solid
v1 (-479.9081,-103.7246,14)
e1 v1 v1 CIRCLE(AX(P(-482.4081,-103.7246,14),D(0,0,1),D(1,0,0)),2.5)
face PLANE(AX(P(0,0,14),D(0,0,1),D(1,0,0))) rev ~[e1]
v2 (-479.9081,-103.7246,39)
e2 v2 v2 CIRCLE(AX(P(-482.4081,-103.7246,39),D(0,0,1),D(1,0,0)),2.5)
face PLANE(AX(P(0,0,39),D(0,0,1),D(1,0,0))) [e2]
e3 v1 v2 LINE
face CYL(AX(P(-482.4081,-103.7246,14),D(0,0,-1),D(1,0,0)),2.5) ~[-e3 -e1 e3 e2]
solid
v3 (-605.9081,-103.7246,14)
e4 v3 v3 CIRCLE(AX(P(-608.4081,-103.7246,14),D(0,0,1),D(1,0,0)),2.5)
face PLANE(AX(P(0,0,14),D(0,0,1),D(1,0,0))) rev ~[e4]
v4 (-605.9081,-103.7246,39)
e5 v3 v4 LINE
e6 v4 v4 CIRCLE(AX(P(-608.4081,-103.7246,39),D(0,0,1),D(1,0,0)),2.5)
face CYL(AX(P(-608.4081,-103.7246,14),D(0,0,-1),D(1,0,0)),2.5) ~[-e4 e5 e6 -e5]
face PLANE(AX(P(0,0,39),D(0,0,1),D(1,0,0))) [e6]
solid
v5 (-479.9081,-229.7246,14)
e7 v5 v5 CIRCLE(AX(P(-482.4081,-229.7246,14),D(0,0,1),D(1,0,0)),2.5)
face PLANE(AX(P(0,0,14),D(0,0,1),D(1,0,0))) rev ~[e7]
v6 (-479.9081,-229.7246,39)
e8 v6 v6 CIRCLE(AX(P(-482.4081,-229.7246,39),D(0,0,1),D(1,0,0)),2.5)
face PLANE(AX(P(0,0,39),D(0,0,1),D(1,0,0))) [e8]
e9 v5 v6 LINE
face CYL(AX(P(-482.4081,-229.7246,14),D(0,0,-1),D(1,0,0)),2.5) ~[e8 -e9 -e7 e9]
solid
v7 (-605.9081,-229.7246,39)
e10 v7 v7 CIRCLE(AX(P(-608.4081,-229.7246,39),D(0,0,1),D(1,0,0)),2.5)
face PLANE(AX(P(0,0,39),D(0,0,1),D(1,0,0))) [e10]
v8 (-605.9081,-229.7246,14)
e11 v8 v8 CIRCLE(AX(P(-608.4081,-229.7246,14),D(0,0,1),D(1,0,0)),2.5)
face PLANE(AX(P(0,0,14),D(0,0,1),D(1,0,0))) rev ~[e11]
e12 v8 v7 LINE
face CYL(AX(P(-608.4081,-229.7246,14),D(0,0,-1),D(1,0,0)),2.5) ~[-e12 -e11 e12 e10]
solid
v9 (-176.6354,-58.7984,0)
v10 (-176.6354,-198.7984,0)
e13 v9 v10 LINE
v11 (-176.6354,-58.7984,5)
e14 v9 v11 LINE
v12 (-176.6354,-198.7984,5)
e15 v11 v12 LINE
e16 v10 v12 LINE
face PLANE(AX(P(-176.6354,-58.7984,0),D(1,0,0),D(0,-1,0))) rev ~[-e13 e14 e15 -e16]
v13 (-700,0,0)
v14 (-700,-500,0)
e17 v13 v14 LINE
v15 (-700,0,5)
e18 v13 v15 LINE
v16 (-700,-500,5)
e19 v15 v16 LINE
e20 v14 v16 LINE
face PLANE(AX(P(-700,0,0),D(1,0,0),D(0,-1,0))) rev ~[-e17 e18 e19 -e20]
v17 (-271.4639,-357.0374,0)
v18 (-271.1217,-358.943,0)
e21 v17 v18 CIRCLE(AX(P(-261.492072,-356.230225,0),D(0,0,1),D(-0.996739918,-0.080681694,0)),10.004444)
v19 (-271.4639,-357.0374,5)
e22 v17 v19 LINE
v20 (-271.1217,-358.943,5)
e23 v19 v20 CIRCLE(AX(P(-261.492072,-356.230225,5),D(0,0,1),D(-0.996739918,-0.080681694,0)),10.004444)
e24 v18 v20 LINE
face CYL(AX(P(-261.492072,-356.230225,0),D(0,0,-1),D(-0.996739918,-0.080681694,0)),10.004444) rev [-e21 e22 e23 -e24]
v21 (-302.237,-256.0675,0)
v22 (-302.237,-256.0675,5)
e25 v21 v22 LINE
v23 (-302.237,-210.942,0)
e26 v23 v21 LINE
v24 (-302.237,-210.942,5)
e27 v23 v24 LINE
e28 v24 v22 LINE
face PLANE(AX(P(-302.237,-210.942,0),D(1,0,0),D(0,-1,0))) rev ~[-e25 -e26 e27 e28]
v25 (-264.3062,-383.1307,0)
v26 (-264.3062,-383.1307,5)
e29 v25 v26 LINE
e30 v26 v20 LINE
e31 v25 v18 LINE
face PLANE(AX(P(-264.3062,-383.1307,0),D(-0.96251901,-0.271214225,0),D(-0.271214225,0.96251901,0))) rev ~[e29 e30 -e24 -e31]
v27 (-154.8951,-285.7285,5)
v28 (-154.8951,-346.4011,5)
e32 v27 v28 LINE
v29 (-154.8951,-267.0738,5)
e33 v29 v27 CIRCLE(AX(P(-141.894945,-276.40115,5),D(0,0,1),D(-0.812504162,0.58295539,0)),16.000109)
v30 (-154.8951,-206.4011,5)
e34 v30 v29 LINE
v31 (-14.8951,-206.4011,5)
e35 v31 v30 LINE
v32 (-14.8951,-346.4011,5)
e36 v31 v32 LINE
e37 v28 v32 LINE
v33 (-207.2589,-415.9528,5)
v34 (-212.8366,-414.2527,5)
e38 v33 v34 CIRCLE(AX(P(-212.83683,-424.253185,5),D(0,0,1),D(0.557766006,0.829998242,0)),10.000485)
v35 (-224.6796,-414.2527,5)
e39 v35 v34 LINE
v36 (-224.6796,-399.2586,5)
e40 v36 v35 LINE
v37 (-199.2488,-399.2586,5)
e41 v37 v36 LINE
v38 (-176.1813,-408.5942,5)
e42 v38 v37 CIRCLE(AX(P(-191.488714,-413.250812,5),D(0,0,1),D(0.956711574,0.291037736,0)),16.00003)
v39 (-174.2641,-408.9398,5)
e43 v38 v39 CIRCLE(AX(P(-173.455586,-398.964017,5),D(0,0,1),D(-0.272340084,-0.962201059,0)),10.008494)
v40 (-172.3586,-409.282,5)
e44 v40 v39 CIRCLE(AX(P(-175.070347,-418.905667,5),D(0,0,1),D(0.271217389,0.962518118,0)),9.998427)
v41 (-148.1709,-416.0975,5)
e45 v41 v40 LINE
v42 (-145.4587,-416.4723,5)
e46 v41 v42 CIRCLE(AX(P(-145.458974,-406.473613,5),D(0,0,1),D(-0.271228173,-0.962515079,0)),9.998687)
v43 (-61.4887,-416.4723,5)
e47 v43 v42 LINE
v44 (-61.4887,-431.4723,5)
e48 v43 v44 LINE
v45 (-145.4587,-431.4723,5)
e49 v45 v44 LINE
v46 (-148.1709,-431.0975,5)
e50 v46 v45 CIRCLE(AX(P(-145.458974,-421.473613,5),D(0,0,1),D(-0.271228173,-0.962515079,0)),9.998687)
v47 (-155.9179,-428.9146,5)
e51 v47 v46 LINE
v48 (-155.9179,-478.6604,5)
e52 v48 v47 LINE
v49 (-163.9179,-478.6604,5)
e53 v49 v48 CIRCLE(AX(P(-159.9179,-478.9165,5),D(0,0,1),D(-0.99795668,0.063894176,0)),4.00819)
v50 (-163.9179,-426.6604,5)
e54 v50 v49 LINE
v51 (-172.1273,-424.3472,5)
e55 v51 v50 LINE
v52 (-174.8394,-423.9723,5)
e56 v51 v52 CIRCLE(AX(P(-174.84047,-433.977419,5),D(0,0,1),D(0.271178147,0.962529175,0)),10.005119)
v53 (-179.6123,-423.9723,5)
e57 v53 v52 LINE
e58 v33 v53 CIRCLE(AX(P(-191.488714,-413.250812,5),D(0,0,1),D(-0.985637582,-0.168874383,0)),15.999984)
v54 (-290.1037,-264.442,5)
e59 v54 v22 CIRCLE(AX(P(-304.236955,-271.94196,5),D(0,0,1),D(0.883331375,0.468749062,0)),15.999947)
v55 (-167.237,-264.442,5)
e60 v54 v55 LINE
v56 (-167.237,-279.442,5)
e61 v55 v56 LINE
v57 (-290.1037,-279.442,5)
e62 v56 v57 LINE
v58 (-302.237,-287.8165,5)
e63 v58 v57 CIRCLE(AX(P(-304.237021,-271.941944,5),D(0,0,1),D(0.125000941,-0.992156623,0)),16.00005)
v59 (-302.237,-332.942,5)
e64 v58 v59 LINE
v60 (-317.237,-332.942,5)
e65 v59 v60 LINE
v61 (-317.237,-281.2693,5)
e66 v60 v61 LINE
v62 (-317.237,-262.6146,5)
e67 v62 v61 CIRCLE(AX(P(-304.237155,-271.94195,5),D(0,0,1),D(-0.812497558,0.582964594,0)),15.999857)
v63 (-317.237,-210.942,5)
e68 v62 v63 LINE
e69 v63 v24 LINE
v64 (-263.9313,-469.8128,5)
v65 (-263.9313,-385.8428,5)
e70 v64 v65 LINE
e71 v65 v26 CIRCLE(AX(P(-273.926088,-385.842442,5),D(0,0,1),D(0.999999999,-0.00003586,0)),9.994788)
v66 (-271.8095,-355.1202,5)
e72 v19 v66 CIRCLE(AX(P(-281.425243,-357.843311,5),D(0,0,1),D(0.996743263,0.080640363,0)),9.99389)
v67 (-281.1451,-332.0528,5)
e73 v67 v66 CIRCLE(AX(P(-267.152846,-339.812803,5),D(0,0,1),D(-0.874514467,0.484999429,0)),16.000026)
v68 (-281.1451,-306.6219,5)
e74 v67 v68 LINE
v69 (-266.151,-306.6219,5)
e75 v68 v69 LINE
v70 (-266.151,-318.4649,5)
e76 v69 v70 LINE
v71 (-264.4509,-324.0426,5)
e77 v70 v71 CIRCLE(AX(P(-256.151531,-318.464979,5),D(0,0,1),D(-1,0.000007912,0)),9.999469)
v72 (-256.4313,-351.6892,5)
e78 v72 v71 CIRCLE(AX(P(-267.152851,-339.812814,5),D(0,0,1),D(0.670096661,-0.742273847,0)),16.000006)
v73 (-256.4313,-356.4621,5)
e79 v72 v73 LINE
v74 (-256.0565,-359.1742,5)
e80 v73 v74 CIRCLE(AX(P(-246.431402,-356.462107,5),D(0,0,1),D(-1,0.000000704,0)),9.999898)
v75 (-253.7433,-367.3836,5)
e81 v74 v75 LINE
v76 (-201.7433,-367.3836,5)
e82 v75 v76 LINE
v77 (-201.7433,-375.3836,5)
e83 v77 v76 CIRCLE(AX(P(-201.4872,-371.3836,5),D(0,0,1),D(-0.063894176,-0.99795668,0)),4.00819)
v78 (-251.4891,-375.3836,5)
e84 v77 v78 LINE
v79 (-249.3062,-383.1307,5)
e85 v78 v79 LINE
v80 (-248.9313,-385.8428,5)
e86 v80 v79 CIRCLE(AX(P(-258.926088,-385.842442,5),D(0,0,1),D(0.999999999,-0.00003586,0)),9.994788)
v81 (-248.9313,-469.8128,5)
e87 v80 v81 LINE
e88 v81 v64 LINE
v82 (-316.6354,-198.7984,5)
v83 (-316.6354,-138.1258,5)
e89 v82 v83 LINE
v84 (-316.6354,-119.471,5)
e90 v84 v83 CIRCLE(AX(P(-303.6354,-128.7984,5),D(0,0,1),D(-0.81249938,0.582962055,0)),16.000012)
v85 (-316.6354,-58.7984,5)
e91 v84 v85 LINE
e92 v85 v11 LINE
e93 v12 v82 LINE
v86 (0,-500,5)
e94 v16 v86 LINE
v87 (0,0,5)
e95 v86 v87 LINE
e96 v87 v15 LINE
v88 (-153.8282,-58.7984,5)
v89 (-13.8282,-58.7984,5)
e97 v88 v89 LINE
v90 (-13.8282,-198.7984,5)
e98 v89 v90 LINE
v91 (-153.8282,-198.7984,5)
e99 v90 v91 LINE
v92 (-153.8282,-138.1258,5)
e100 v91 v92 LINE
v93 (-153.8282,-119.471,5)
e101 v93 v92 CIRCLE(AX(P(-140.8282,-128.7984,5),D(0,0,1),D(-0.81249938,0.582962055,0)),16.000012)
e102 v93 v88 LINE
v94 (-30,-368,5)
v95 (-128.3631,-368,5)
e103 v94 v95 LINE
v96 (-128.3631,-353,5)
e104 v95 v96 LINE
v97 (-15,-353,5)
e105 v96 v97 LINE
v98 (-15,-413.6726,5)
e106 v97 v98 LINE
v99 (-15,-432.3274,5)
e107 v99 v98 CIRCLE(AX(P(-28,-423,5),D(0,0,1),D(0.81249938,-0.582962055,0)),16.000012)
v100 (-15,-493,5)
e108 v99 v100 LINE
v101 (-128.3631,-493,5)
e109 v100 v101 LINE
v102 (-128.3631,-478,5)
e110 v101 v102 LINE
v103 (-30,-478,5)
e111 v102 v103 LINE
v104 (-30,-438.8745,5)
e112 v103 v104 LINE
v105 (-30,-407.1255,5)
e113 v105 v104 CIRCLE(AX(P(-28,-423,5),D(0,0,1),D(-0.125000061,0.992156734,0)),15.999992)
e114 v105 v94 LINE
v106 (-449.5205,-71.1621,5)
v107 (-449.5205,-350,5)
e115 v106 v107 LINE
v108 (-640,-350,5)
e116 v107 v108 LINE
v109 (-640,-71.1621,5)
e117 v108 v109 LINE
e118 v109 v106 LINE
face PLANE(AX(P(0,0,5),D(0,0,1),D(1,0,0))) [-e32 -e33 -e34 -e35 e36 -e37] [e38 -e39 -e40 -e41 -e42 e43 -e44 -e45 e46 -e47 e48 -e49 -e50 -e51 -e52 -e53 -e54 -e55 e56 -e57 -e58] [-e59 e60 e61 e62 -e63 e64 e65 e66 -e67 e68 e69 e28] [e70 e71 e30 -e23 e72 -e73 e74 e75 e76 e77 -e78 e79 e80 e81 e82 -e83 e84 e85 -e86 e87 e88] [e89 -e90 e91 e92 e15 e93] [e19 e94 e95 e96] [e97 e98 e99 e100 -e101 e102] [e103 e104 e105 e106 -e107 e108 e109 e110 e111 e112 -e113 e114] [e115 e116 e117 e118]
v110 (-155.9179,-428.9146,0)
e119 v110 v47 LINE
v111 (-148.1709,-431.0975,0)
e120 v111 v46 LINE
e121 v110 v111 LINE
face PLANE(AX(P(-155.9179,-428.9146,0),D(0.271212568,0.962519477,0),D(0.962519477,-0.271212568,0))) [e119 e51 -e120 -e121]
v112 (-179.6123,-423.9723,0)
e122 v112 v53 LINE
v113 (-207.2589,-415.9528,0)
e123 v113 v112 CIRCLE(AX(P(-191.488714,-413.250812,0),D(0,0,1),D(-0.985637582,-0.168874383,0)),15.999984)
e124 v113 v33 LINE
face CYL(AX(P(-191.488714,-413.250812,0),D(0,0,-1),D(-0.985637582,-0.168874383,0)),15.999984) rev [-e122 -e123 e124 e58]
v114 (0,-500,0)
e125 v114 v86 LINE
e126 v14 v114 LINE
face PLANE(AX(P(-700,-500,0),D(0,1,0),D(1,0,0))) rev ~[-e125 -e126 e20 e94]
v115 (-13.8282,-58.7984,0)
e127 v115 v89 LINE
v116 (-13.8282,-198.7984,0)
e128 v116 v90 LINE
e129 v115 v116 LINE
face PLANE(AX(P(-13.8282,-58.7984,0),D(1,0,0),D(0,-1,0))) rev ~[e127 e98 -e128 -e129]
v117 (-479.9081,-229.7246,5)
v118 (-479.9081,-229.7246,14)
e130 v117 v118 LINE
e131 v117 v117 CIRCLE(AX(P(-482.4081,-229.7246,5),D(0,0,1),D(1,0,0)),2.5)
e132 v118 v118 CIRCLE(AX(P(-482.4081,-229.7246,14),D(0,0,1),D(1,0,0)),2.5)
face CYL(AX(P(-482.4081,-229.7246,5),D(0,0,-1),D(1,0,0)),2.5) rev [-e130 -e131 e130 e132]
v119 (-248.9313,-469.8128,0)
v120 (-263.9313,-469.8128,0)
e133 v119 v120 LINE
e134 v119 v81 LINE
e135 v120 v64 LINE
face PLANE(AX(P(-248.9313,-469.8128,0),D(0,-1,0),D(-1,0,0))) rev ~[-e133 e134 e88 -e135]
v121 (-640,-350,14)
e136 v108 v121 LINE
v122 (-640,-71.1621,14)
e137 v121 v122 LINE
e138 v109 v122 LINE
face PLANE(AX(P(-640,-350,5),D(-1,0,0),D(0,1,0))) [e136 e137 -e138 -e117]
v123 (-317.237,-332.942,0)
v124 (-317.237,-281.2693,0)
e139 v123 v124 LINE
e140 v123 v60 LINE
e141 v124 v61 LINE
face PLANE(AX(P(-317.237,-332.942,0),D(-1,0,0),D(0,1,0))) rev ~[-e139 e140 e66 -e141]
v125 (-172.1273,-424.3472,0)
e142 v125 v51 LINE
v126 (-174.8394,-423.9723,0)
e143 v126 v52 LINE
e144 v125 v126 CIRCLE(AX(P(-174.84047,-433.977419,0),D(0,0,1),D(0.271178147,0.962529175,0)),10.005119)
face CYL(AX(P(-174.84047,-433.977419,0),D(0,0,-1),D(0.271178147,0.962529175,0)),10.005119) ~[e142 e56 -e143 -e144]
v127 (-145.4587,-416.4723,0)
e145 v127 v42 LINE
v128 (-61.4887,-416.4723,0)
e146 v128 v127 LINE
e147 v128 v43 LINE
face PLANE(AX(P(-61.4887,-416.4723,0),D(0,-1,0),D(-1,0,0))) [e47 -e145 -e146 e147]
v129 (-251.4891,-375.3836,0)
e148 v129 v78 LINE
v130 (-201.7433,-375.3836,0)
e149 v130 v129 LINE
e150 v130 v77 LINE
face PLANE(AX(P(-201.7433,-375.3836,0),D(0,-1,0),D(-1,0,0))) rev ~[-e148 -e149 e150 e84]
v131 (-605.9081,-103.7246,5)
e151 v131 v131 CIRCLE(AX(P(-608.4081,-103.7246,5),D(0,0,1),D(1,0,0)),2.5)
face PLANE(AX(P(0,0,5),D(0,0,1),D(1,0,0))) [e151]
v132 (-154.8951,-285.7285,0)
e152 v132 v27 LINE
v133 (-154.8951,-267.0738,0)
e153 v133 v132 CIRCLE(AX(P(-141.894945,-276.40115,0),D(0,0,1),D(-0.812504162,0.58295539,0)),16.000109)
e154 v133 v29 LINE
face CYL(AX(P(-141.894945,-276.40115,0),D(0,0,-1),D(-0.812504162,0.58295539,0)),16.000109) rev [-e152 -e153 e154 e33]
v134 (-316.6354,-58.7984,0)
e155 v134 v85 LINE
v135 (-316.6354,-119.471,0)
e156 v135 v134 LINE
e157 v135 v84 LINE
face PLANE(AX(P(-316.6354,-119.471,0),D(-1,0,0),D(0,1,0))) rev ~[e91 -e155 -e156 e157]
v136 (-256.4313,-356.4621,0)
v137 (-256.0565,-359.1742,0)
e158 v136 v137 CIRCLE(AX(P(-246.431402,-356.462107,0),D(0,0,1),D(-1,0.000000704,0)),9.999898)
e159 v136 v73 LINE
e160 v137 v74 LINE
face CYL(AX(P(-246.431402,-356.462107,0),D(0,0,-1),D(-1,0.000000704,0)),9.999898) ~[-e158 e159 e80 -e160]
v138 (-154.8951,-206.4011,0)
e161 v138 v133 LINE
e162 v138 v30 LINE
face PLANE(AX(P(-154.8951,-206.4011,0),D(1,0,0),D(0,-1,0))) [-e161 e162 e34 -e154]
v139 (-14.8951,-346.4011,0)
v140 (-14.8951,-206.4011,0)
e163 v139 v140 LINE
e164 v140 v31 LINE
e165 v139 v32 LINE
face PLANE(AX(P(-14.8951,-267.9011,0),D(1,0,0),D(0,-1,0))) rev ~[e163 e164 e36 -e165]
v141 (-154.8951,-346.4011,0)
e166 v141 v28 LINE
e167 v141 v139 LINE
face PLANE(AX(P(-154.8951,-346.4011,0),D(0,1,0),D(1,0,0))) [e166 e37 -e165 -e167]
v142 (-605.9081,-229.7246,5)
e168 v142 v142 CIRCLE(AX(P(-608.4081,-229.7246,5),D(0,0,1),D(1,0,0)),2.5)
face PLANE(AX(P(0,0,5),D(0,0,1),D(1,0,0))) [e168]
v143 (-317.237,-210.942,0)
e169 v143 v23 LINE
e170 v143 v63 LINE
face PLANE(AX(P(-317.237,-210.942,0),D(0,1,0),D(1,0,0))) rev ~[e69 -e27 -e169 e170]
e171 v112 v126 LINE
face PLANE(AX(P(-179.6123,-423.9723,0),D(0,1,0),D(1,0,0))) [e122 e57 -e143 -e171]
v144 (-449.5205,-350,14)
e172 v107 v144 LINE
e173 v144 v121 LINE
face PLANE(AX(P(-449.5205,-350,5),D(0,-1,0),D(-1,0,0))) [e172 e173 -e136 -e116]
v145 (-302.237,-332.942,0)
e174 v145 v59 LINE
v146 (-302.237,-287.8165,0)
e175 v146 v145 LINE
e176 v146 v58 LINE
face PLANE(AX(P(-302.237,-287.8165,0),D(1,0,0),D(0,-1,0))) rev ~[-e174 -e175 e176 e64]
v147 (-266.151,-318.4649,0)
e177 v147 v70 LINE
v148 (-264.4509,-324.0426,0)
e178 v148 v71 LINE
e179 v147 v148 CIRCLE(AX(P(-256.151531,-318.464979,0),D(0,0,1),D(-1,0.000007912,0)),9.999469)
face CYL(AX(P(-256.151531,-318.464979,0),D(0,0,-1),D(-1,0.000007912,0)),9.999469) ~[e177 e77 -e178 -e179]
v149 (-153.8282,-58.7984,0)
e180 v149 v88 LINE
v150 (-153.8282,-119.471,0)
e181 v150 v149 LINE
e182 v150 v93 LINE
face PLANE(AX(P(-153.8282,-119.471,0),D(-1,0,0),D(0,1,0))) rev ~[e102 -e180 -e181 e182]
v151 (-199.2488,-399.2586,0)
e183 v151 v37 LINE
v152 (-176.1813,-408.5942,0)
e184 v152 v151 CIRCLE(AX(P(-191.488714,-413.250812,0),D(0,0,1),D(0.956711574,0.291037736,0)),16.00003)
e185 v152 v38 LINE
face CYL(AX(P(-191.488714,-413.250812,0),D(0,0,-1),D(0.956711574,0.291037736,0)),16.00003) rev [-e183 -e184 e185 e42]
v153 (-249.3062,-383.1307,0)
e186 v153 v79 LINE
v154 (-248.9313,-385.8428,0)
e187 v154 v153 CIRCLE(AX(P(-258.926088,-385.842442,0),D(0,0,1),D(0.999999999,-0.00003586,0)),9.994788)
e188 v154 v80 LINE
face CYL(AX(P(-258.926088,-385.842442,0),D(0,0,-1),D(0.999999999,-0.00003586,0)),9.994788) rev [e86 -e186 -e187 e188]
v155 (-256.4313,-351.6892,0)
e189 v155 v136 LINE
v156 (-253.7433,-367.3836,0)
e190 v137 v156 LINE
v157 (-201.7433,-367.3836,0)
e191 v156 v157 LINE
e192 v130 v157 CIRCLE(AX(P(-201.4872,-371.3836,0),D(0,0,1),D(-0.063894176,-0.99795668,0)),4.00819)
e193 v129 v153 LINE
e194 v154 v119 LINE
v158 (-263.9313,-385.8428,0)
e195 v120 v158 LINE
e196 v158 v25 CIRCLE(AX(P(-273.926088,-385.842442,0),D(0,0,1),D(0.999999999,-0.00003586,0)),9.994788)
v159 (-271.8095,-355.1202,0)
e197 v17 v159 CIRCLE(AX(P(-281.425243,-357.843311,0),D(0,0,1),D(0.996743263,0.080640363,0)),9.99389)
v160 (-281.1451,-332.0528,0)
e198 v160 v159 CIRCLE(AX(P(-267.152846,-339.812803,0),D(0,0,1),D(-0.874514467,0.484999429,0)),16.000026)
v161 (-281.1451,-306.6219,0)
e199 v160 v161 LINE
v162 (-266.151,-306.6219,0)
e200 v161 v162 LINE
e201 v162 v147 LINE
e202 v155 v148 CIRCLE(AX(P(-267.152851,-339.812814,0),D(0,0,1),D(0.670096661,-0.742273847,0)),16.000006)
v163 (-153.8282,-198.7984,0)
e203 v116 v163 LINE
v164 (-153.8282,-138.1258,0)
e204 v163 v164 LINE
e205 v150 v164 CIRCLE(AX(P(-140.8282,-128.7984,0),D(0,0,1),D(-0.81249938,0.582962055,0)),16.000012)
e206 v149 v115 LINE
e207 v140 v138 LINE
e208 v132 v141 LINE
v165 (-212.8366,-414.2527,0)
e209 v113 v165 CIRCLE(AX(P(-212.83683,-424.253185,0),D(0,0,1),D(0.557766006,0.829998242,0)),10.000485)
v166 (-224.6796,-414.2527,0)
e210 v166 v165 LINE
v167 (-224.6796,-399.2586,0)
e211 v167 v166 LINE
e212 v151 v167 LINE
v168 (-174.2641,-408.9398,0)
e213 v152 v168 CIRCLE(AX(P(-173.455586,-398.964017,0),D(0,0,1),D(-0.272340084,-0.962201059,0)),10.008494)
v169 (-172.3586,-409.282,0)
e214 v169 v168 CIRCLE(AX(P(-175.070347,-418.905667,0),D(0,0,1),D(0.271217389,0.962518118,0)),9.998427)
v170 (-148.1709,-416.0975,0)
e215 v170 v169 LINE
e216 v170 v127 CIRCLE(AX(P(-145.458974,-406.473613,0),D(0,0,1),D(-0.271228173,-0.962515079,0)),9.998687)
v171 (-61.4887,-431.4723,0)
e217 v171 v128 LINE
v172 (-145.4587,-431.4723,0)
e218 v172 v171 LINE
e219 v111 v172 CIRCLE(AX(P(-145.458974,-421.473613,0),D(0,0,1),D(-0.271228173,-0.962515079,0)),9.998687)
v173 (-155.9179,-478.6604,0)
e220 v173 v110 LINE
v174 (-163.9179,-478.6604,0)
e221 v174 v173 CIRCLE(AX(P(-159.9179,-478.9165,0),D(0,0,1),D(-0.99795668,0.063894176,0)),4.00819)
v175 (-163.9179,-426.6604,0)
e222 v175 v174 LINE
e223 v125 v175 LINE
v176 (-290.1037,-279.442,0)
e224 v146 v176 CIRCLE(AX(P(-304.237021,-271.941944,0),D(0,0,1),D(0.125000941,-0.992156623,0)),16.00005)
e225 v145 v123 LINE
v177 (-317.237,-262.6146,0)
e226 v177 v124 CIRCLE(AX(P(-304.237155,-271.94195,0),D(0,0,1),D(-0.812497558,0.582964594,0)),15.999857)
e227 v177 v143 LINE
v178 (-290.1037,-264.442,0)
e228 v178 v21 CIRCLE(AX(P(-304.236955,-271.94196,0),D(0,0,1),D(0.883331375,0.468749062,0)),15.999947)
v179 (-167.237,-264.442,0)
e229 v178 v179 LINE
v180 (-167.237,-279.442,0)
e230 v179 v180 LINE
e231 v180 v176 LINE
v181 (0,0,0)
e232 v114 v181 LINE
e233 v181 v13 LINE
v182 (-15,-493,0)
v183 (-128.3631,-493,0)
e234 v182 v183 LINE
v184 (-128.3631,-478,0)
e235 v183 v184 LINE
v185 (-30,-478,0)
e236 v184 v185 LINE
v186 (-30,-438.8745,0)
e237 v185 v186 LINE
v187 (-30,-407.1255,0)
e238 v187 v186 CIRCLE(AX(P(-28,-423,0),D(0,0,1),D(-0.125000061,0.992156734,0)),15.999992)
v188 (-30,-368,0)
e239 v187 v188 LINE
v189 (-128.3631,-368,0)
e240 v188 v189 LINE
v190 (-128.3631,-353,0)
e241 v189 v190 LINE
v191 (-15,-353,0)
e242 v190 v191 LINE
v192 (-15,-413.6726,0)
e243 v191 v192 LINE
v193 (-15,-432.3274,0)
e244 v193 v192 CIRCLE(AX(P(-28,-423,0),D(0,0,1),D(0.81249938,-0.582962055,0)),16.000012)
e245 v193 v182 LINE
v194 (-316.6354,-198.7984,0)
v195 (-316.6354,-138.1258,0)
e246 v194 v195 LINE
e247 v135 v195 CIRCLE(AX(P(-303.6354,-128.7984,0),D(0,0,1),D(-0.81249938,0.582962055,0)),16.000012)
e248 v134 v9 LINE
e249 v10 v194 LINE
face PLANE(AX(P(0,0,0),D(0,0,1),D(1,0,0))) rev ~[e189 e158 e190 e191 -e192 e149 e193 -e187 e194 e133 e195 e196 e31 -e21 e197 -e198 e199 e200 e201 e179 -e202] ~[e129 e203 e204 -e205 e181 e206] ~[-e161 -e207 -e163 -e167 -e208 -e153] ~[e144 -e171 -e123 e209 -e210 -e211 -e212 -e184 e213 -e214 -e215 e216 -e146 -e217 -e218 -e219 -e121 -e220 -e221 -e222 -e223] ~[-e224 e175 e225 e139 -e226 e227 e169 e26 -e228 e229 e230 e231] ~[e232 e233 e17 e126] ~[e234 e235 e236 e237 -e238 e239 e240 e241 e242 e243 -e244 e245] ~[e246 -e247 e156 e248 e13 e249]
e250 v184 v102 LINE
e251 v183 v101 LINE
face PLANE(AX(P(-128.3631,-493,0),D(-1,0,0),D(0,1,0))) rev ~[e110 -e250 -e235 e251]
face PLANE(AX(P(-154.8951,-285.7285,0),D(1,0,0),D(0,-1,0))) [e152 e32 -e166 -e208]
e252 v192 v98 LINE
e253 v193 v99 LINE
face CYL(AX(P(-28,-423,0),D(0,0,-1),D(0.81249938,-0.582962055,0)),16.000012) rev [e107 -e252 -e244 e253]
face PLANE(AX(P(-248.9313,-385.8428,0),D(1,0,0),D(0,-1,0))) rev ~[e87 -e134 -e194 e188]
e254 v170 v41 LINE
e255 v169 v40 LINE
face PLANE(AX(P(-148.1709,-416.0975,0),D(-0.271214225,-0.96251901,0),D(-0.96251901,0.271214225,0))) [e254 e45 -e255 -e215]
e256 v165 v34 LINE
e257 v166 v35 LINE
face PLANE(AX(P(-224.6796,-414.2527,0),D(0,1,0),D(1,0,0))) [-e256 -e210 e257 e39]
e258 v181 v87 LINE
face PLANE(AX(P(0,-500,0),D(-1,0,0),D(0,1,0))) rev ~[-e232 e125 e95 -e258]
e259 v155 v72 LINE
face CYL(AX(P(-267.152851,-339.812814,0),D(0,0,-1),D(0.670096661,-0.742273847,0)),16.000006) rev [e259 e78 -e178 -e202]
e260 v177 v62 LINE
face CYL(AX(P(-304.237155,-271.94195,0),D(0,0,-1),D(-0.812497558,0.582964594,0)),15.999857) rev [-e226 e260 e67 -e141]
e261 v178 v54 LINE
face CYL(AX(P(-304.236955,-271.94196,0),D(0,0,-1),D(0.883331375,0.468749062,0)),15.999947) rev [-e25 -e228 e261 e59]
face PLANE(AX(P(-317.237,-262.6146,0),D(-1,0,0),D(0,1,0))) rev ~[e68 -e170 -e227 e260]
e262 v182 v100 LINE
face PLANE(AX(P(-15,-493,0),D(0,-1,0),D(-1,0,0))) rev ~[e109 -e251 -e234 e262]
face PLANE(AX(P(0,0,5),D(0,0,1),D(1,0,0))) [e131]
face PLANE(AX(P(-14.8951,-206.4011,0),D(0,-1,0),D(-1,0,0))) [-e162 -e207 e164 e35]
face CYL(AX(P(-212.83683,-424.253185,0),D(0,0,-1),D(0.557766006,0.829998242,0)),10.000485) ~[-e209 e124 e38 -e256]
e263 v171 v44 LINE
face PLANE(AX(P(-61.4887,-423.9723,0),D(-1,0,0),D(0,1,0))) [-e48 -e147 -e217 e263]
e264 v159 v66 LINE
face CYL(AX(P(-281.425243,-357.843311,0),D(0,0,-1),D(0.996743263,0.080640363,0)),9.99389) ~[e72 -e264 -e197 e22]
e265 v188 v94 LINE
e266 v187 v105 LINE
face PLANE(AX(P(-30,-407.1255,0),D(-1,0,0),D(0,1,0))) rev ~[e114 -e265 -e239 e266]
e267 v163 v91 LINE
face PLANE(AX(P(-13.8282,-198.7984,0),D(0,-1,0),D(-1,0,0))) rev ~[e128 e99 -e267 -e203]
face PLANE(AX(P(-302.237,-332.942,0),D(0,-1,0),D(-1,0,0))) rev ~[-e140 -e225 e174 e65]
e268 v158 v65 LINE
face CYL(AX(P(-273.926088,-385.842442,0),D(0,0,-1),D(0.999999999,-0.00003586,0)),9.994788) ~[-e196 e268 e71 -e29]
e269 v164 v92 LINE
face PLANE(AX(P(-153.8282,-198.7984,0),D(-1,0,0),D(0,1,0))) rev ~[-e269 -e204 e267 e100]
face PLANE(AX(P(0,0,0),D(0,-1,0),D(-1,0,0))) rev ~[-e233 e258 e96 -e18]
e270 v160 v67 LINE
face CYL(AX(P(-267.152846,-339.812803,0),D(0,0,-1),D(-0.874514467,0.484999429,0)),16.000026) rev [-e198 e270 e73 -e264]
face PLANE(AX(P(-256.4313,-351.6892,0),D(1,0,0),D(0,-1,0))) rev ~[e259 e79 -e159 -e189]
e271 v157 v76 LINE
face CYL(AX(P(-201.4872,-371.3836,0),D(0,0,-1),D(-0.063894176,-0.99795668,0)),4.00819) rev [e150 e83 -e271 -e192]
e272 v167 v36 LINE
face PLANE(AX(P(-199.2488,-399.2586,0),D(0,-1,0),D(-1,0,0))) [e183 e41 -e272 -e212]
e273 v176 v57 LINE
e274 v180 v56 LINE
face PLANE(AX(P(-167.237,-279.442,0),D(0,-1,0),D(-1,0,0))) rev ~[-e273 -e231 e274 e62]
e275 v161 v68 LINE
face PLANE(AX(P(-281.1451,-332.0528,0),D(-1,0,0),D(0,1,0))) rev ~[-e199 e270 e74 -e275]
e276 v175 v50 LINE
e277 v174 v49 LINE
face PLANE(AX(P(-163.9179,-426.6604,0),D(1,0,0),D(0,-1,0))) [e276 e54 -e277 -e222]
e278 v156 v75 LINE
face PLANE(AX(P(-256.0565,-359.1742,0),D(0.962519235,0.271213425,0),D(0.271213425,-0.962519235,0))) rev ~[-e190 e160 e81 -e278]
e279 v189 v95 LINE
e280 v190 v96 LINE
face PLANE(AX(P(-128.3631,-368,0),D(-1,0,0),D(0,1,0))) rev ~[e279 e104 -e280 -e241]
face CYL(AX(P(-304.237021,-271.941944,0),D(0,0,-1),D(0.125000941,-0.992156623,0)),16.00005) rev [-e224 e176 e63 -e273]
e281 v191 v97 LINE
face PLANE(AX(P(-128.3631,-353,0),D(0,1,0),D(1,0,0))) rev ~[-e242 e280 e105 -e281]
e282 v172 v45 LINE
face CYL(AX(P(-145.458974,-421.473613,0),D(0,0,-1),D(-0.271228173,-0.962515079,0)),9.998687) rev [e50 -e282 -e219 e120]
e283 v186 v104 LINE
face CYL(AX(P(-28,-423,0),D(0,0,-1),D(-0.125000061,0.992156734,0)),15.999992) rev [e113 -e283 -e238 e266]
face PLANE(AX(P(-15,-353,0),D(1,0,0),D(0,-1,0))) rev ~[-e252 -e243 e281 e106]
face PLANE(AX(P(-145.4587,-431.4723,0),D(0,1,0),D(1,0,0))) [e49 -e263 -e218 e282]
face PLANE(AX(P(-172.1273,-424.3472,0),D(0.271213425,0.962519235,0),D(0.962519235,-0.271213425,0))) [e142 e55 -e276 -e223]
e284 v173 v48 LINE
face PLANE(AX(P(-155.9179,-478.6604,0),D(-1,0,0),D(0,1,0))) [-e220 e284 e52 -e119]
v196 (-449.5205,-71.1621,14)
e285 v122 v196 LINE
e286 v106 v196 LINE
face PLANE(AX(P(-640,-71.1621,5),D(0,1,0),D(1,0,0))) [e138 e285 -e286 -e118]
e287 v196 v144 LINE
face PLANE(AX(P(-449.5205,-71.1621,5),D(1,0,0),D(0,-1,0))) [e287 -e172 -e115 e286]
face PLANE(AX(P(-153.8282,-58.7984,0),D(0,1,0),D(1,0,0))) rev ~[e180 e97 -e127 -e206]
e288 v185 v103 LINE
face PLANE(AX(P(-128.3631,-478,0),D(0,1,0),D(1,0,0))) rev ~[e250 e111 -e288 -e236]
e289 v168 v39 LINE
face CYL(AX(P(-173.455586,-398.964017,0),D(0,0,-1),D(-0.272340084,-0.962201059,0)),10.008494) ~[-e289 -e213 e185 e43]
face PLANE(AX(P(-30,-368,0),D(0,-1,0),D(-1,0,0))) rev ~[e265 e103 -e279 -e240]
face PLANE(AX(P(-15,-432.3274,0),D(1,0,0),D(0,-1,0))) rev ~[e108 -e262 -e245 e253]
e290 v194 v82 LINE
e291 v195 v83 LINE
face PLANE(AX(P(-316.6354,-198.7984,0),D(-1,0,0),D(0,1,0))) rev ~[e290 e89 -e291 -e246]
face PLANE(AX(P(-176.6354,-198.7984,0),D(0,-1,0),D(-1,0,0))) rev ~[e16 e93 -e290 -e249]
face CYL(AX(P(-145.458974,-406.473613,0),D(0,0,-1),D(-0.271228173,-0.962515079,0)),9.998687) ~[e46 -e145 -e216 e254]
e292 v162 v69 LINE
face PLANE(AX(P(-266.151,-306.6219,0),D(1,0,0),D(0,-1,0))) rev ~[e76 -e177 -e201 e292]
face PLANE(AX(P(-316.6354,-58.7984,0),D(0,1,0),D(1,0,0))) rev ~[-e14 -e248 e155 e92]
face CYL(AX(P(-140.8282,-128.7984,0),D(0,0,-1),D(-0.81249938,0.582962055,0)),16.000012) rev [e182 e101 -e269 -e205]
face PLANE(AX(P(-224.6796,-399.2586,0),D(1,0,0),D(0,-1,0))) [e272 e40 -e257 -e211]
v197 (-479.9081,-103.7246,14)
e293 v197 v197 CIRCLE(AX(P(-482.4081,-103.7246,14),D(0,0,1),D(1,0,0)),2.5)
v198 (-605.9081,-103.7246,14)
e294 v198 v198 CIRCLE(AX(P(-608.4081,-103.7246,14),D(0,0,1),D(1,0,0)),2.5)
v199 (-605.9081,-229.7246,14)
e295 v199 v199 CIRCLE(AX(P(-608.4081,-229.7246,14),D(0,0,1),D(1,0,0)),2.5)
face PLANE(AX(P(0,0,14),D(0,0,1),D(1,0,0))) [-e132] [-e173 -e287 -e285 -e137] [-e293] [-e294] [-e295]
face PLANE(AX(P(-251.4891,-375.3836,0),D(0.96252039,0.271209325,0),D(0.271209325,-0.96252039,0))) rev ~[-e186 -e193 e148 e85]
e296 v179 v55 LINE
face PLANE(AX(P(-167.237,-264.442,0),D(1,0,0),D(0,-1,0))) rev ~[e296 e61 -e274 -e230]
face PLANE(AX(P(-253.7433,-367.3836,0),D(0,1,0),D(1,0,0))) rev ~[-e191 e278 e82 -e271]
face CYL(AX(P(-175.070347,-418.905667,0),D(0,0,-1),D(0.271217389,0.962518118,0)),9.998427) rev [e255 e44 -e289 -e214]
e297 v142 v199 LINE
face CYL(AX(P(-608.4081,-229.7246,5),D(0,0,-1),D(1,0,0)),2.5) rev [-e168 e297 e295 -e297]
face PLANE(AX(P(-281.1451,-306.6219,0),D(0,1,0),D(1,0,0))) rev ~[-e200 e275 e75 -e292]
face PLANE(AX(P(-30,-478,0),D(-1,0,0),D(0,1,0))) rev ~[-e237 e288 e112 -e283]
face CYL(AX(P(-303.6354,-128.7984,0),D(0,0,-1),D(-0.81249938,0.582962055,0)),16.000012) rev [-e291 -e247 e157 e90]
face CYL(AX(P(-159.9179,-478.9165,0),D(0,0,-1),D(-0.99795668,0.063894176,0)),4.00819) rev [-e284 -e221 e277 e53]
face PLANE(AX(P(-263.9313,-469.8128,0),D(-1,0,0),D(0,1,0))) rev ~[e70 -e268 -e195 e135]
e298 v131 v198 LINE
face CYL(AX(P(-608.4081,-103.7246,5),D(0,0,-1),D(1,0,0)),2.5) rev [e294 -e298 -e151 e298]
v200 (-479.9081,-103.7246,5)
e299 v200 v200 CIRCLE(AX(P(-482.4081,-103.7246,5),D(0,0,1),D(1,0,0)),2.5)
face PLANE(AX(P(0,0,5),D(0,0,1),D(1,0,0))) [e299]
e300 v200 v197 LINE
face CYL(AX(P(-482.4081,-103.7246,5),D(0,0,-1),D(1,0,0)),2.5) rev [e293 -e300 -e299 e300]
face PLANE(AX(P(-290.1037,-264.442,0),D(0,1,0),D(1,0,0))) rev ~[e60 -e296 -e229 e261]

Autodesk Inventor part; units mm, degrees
ref_plane "YZ Plane" through (0, 0, 0) normal (1, 0, 0) x (0, 1, 0)
ref_plane "XZ Plane" through (0, 0, 0) normal (0, 1, 0) x (-1, 0, 0)
ref_plane "XY Plane" through (0, 0, 0) normal (0, 0, 1) x (1, 0, 0)
sketch "Boceto1" plane through (0, 0, 0) normal (0, 0, 1) x (1, 0, 0)
  circle A0 centre (-147.8951, -213.4011) radius 3.5
  circle A1 centre (-21.8951, -213.4011) radius 3.5
  circle A2 centre (-147.8951, -339.4011) radius 3.5
  circle A3 centre (-21.8951, -339.4011) radius 3.5
  circle A4 centre (-309.6354, -191.7984) radius 3.5
  circle A5 centre (-309.6354, -65.7984) radius 3.5
  circle A6 centre (-183.6354, -191.7984) radius 3.5
  circle A7 centre (-183.6354, -65.7984) radius 3.5
  circle A8 centre (-146.8282, -191.7984) radius 3.5
  circle A9 centre (-146.8282, -65.7984) radius 3.5
  circle A10 centre (-20.8282, -191.7984) radius 3.5
  circle A11 centre (-20.8282, -65.7984) radius 3.5
  circle A12 centre (-217.6796, -404.2586) radius 3.5
  circle A13 centre (-276.1451, -313.6219) radius 3.5
  line L0 (-317.237, -262.6146) -> (-317.237, -210.942)
  line L1 (-317.237, -210.942) -> (-302.237, -210.942)
  line L2 (-302.237, -210.942) -> (-302.237, -256.0675)
  circle A14 centre (-309.9844, -222.642) radius 3.5
  line L3 (-29.8951, -324.021) -> (-29.8951, -338.4011)
  line L4 (-29.8951, -338.4011) -> (-139.8951, -338.4011)
  line L5 (-139.8951, -338.4011) -> (-139.8951, -324.4011)
  line L6 (-139.8951, -324.4011) -> (-139.8951, -292.2756)
  arc A15 (-157.9179, -437.9883) -> (-161.9179, -437.9883) centre (-159.9179, -437.9883) ccw
  line L7 (-157.9179, -437.9883) -> (-157.9179, -475.168)
  arc A16 (-161.9179, -475.168) -> (-157.9179, -475.168) centre (-159.9179, -475.168) ccw
  line L8 (-161.9179, -475.168) -> (-161.9179, -437.9883)
  line L9 (-61.4887, -423.9723) -> (-61.4887, -416.4723)
  line L10 (-61.4887, -416.4723) -> (-145.4587, -416.4723)
  arc A17 (-148.1709, -416.0975) -> (-145.4587, -416.4723) centre (-145.4587, -406.4723) ccw
  line L11 (-148.1709, -416.0975) -> (-172.3586, -409.282)
  arc A18 (-172.3586, -409.282) -> (-174.2641, -408.9398) centre (-175.0707, -418.9072) ccw
  arc A19 (-176.1813, -408.5942) -> (-174.2641, -408.9398) centre (-173.4575, -398.9723) ccw
  line L12 (-242.4154, -373.3836) -> (-205.2357, -373.3836)
  arc A20 (-205.2357, -373.3836) -> (-205.2357, -369.3836) centre (-205.2357, -371.3836) ccw
  line L13 (-205.2357, -369.3836) -> (-242.4154, -369.3836)
  arc A21 (-242.4154, -369.3836) -> (-242.4154, -373.3836) centre (-242.4154, -371.3836) ccw
  line L14 (-153.8282, -119.471) -> (-153.8282, -58.7984)
  line L15 (-153.8282, -58.7984) -> (-13.8282, -58.7984)
  line L16 (-13.8282, -58.7984) -> (-13.8282, -198.7984)
  line L17 (-13.8282, -198.7984) -> (-153.8282, -198.7984)
  line L18 (-153.8282, -198.7984) -> (-153.8282, -138.1258)
  line L19 (-138.8282, -144.6729) -> (-138.8282, -183.7984)
  line L20 (-138.8282, -183.7984) -> (-28.8282, -183.7984)
  line L21 (-28.8282, -183.7984) -> (-28.8282, -73.7984)
  line L22 (-28.8282, -73.7984) -> (-138.8282, -73.7984)
  line L23 (-138.8282, -73.7984) -> (-138.8282, -112.9239)
  line L24 (-316.6354, -119.471) -> (-316.6354, -58.7984)
  line L25 (-316.6354, -58.7984) -> (-176.6354, -58.7984)
  line L26 (-176.6354, -58.7984) -> (-176.6354, -198.7984)
  line L27 (-176.6354, -198.7984) -> (-316.6354, -198.7984)
  line L28 (-316.6354, -198.7984) -> (-316.6354, -138.1258)
  line L29 (-301.6354, -144.6729) -> (-301.6354, -183.7984)
  line L30 (-301.6354, -183.7984) -> (-191.6354, -183.7984)
  line L31 (-191.6354, -183.7984) -> (-191.6354, -73.7984)
  line L32 (-191.6354, -73.7984) -> (-301.6354, -73.7984)
  line L33 (-301.6354, -73.7984) -> (-301.6354, -112.9239)
  line L34 (492.5651, -223.6733) -> (492.5651, -502.5112)
  line L35 (492.5651, -502.5112) -> (302.0855, -502.5112)
  line L36 (302.0855, -502.5112) -> (302.0855, -223.6733)
  line L37 (302.0855, -223.6733) -> (492.5651, -223.6733)
  circle A22 centre (459.6774, -256.2358) radius 2.5
  circle A23 centre (459.6774, -382.2358) radius 2.5
  circle A24 centre (333.6774, -256.2358) radius 2.5
  circle A25 centre (333.6774, -382.2358) radius 2.5
  circle A26 centre (-22, -486) radius 3.5
  line L38 (-128.3631, -478) -> (-30, -478)
  line L39 (-30, -478) -> (-30, -438.8745)
  line L40 (-128.3631, -493) -> (-128.3631, -478)
  line L41 (-128.3631, -353) -> (-15, -353)
  line L42 (-15, -353) -> (-15, -413.6726)
  line L43 (-128.3631, -368) -> (-128.3631, -353)
  circle A27 centre (-22, -360) radius 3.5
  arc A28 (-316.6354, -119.471) -> (-316.6354, -138.1258) centre (-303.6354, -128.7984) ccw
  arc A29 (-153.8282, -119.471) -> (-153.8282, -138.1258) centre (-140.8282, -128.7984) ccw
  arc A30 (-317.237, -262.6146) -> (-317.237, -281.2693) centre (-304.237, -271.942) ccw
  arc A31 (-154.8951, -267.0738) -> (-154.8951, -285.7285) centre (-141.8951, -276.4011) ccw
  arc A32 (-281.1451, -332.0528) -> (-271.8095, -355.1202) centre (-267.1529, -339.8128) ccw
  arc A33 (-30, -407.1255) -> (-30, -438.8745) centre (-28, -423) ccw
  arc A34 (-207.2589, -415.9528) -> (-179.6123, -423.9723) centre (-191.4887, -413.2508) ccw
  arc A35 (-301.6354, -144.6729) -> (-301.6354, -112.9239) centre (-303.6354, -128.7984) ccw
  arc A36 (-138.8282, -144.6729) -> (-138.8282, -112.9239) centre (-140.8282, -128.7984) ccw
  line L44 (-281.1451, -332.0528) -> (-281.1451, -306.6219)
  line L45 (-281.1451, -306.6219) -> (-266.151, -306.6219)
  line L46 (-266.151, -306.6219) -> (-266.151, -318.4649)
  arc A37 (-266.151, -318.4649) -> (-264.4509, -324.0426) centre (-256.151, -318.4649) ccw
  line L47 (-256.4313, -351.6892) -> (-256.4313, -356.4621)
  arc A38 (-256.4313, -356.4621) -> (-256.0565, -359.1742) centre (-246.4313, -356.4621) ccw
  line L48 (-256.0565, -359.1742) -> (-253.7433, -367.3836)
  line L49 (-253.7433, -367.3836) -> (-201.7433, -367.3836)
  arc A39 (-201.7433, -375.3836) -> (-201.7433, -367.3836) centre (-201.4872, -371.3836) ccw
  line L50 (-201.7433, -375.3836) -> (-251.4891, -375.3836)
  line L51 (-251.4891, -375.3836) -> (-249.3062, -383.1307)
  arc A40 (-248.9313, -385.8428) -> (-249.3062, -383.1307) centre (-258.9313, -385.8428) ccw
  line L52 (-248.9313, -385.8428) -> (-248.9313, -469.8128)
  line L53 (-248.9313, -469.8128) -> (-263.9313, -469.8128)
  line L54 (-263.9313, -469.8128) -> (-263.9313, -385.8428)
  arc A41 (-263.9313, -385.8428) -> (-264.3062, -383.1307) centre (-273.9313, -385.8428) ccw
  line L55 (-264.3062, -383.1307) -> (-271.1217, -358.943)
  arc A42 (-271.4639, -357.0374) -> (-271.1217, -358.943) centre (-261.4965, -356.2308) ccw
  arc A43 (-271.4639, -357.0374) -> (-271.8095, -355.1202) centre (-281.4313, -357.8441) ccw
  arc A44 (-256.4313, -351.6892) -> (-264.4509, -324.0426) centre (-267.1529, -339.8128) ccw
  line L56 (-139.8951, -260.5266) -> (-139.8951, -214.4011)
  line L57 (-139.8951, -214.4011) -> (-29.8951, -214.4011)
  line L58 (-29.8951, -214.4011) -> (-29.8951, -267.9011)
  line L59 (-29.8951, -267.9011) -> (-14.8951, -267.9011)
  line L60 (-14.8951, -267.9011) -> (-14.8951, -206.4011)
  line L61 (-14.8951, -206.4011) -> (-154.8951, -206.4011)
  line L62 (-154.8951, -206.4011) -> (-154.8951, -267.0738)
  line L63 (-154.8951, -285.7285) -> (-154.8951, -346.4011)
  line L64 (-154.8951, -346.4011) -> (-14.8951, -346.4011)
  line L65 (-14.8951, -346.4011) -> (-14.8951, -284.9011)
  line L66 (-14.8951, -284.9011) -> (-29.8951, -284.9011)
  line L67 (-29.8951, -284.9011) -> (-29.8951, -324.4011)
  arc A45 (-139.8951, -292.2756) -> (-139.8951, -260.5266) centre (-141.8951, -276.4011) ccw
  line L68 (-290.1037, -264.442) -> (-167.237, -264.442)
  line L69 (-167.237, -264.442) -> (-167.237, -279.442)
  line L70 (-167.237, -279.442) -> (-290.1037, -279.442)
  line L71 (-302.237, -287.8165) -> (-302.237, -332.942)
  line L72 (-302.237, -332.942) -> (-317.237, -332.942)
  line L73 (-317.237, -332.942) -> (-317.237, -281.2693)
  arc A46 (-302.237, -287.8165) -> (-290.1037, -279.442) centre (-304.237, -271.942) ccw
  arc A47 (-290.1037, -264.442) -> (-302.237, -256.0675) centre (-304.237, -271.942) ccw
  line L74 (-15, -432.3274) -> (-15, -493)
  line L75 (-15, -493) -> (-128.3631, -493)
  line L76 (-30, -407.1255) -> (-30, -368)
  line L77 (-30, -368) -> (-128.3631, -368)
  arc A48 (-15, -432.3274) -> (-15, -413.6726) centre (-28, -423) ccw
  line L78 (-179.6123, -423.9723) -> (-174.8394, -423.9723)
  arc A49 (-172.1273, -424.3472) -> (-174.8394, -423.9723) centre (-174.8394, -433.9723) ccw
  line L79 (-172.1273, -424.3472) -> (-163.9179, -426.6604)
  line L80 (-163.9179, -426.6604) -> (-163.9179, -478.6604)
  arc A50 (-163.9179, -478.6604) -> (-155.9179, -478.6604) centre (-159.9179, -478.9165) ccw
  line L81 (-155.9179, -478.6604) -> (-155.9179, -428.9146)
  line L82 (-155.9179, -428.9146) -> (-148.1709, -431.0975)
  arc A51 (-148.1709, -431.0975) -> (-145.4587, -431.4723) centre (-145.4587, -421.4723) ccw
  line L83 (-145.4587, -431.4723) -> (-61.4887, -431.4723)
  line L84 (-61.4887, -431.4723) -> (-61.4887, -416.4723)
  line L85 (-199.2488, -399.2586) -> (-224.6796, -399.2586)
  line L86 (-224.6796, -399.2586) -> (-224.6796, -414.2527)
  line L87 (-224.6796, -414.2527) -> (-212.8366, -414.2527)
  arc A52 (-207.2589, -415.9528) -> (-212.8366, -414.2527) centre (-212.8366, -424.2527) ccw
  arc A53 (-176.1813, -408.5942) -> (-199.2488, -399.2586) centre (-191.4887, -413.2508) ccw
  line L88 (-29.8951, -267.9011) -> (-29.8951, -284.9011)
  line L89 (-14.8951, -267.9011) -> (-14.8951, -284.9011)
  line L90 (0, 0) -> (-700, 0)
  line L91 (-700, 0) -> (-700, -500)
  line L92 (-700, -500) -> (0, -500)
  line L93 (0, -500) -> (0, 0)
  point P0 (0, -463)
  point P1 (332, -463)
  point P2 (332, 0)
  point P3 (50.8356, -262.3941)
  point P4 (65.8296, -262.3941)
  point P5 (65.8296, -274.2371)
  point P6 (67.5297, -279.8148)
  point P7 (75.5493, -307.4614)
  point P8 (75.5493, -312.2343)
  point P9 (75.9241, -314.9465)
  point P10 (78.2373, -323.1558)
  point P11 (130.2373, -323.1558)
  point P12 (130.2373, -331.1558)
  point P13 (80.4915, -331.1558)
  point P14 (82.6745, -338.9029)
  point P15 (83.0493, -341.615)
  point P16 (83.0493, -425.585)
  point P17 (68.0493, -425.585)
  point P18 (68.0493, -341.615)
  point P19 (67.6745, -338.9029)
  point P20 (60.8589, -314.7152)
  point P21 (60.5167, -312.8096)
  point P22 (60.1712, -310.8924)
  point P23 (50.8356, -287.825)
  point P24 (316.9806, -388.0996)
  point P25 (316.9806, -448.7722)
  point P26 (203.6175, -448.7722)
  point P27 (203.6175, -433.7722)
  point P28 (301.9806, -433.7722)
  point P29 (301.9806, -394.6467)
  point P30 (301.9806, -362.8977)
  point P31 (301.9806, -323.7722)
  point P32 (203.6175, -323.7722)
  point P33 (203.6175, -308.7722)
  point P34 (316.9806, -308.7722)
  point P35 (316.9806, -369.4448)
  point P36 (15.3452, -75.2432)
  point P37 (15.3452, -14.5706)
  point P38 (155.3452, -14.5706)
  point P39 (155.3452, -154.5706)
  point P40 (15.3452, -154.5706)
  point P41 (15.3452, -93.898)
  point P42 (178.1524, -75.2432)
  point P43 (178.1524, -14.5706)
  point P44 (318.1524, -14.5706)
  point P45 (318.1524, -154.5706)
  point P46 (178.1524, -154.5706)
  point P47 (178.1524, -93.898)
  point P48 (29.7436, -243.5887)
  point P49 (29.7436, -288.7142)
  point P50 (14.7436, -288.7142)
  point P51 (14.7436, -237.0415)
  point P52 (14.7436, -218.3868)
  point P53 (14.7436, -166.7142)
  point P54 (29.7436, -166.7142)
  point P55 (29.7436, -211.8397)
  point P56 (41.8769, -220.2142)
  point P57 (164.7436, -220.2142)
  point P58 (164.7436, -235.2142)
  point P59 (41.8769, -235.2142)
  point P60 (186.5219, -372.2445)
  point P61 (270.4919, -372.2445)
  point P62 (270.4919, -379.7445)
  point P63 (270.4919, -387.2445)
  point P64 (186.5219, -387.2445)
  point P65 (183.8098, -386.8697)
  point P66 (176.0627, -384.6868)
  point P67 (176.0627, -434.4326)
  point P68 (168.0627, -434.4326)
  point P69 (168.0627, -382.4326)
  point P70 (159.8533, -380.1194)
  point P71 (157.1412, -379.7445)
  point P72 (152.3683, -379.7445)
  point P73 (124.7217, -371.725)
  point P74 (119.144, -370.0249)
  point P75 (107.301, -370.0249)
  point P76 (107.301, -355.0308)
  point P77 (132.7318, -355.0308)
  point P78 (155.7993, -364.3664)
  point P79 (157.7165, -364.712)
  point P80 (159.622, -365.0542)
  point P81 (183.8098, -371.8697)
  point P82 (317.0855, -240.6733)
  point P83 (317.0855, -302.1733)
  point P84 (177.0855, -302.1733)
  point P85 (177.0855, -241.5007)
  point P86 (177.0855, -222.846)
  point P87 (177.0855, -162.1733)
  point P88 (317.0855, -162.1733)
  point P89 (317.0855, -223.6733)
  point P90 (-271.8095, -355.1202)
  point P91 (-281.1451, -332.0528)
  point P92 (-317.237, -281.2693)
  point P93 (-145.4587, -431.4723)
  point P94 (-155.9179, -478.6604)
  point P95 (-172.1273, -424.3472)
  point P96 (-179.6123, -423.9723)
  point P97 (-207.2589, -415.9528)
  point P98 (-148.1709, -416.0975)
  dimension "d10" = 700
  dimension "d11" = 500
extrude "Extrusión2" add sketch "Boceto1" along normal blind 5 contours L93 L92 L91 L90
sketch "Boceto3" plane through (0, 0, 5) normal (0, 0, 1) x (1, 0, 0)
  line L0 (-449.5205, -71.1621) -> (-449.5205, -350)
  line L1 (-449.5205, -350) -> (-640, -350)
  line L2 (-640, -350) -> (-640, -71.1621)
  line L3 (-640, -71.1621) -> (-449.5205, -71.1621)
  circle A0 centre (-482.4081, -103.7246) radius 2.5
  circle A1 centre (-482.4081, -229.7246) radius 2.5
  circle A2 centre (-608.4081, -103.7246) radius 2.5
  circle A3 centre (-608.4081, -229.7246) radius 2.5
  line L4 (0, 0) -> (-700, 0)
  line L5 (-700, 0) -> (-700, -500)
  line L6 (-700, -500) -> (0, -500)
  line L7 (0, -500) -> (0, 0)
  point P0 (0, -463)
  point P1 (332, -463)
  point P2 (332, 0)
  point P3 (50.8356, -262.3941)
  point P4 (65.8296, -262.3941)
  point P5 (65.8296, -274.2371)
  point P6 (67.5297, -279.8148)
  point P7 (75.5493, -307.4614)
  point P8 (75.5493, -312.2343)
  point P9 (75.9241, -314.9465)
  point P10 (78.2373, -323.1558)
  point P11 (130.2373, -323.1558)
  point P12 (130.2373, -331.1558)
  point P13 (80.4915, -331.1558)
  point P14 (82.6745, -338.9029)
  point P15 (83.0493, -341.615)
  point P16 (83.0493, -425.585)
  point P17 (68.0493, -425.585)
  point P18 (68.0493, -341.615)
  point P19 (67.6745, -338.9029)
  point P20 (60.8589, -314.7152)
  point P21 (60.5167, -312.8096)
  point P22 (60.1712, -310.8924)
  point P23 (50.8356, -287.825)
  point P24 (316.9806, -388.0996)
  point P25 (316.9806, -448.7722)
  point P26 (203.6175, -448.7722)
  point P27 (203.6175, -433.7722)
  point P28 (301.9806, -433.7722)
  point P29 (301.9806, -394.6467)
  point P30 (301.9806, -362.8977)
  point P31 (301.9806, -323.7722)
  point P32 (203.6175, -323.7722)
  point P33 (203.6175, -308.7722)
  point P34 (316.9806, -308.7722)
  point P35 (316.9806, -369.4448)
  point P36 (15.3452, -75.2432)
  point P37 (15.3452, -14.5706)
  point P38 (155.3452, -14.5706)
  point P39 (155.3452, -154.5706)
  point P40 (15.3452, -154.5706)
  point P41 (15.3452, -93.898)
  point P42 (178.1524, -75.2432)
  point P43 (178.1524, -14.5706)
  point P44 (318.1524, -14.5706)
  point P45 (318.1524, -154.5706)
  point P46 (178.1524, -154.5706)
  point P47 (178.1524, -93.898)
  point P48 (29.7436, -243.5887)
  point P49 (29.7436, -288.7142)
  point P50 (14.7436, -288.7142)
  point P51 (14.7436, -237.0415)
  point P52 (14.7436, -218.3868)
  point P53 (14.7436, -166.7142)
  point P54 (29.7436, -166.7142)
  point P55 (29.7436, -211.8397)
  point P56 (41.8769, -220.2142)
  point P57 (164.7436, -220.2142)
  point P58 (164.7436, -235.2142)
  point P59 (41.8769, -235.2142)
  point P60 (186.5219, -372.2445)
  point P61 (270.4919, -372.2445)
  point P62 (270.4919, -379.7445)
  point P63 (270.4919, -387.2445)
  point P64 (186.5219, -387.2445)
  point P65 (183.8098, -386.8697)
  point P66 (176.0627, -384.6868)
  point P67 (176.0627, -434.4326)
  point P68 (168.0627, -434.4326)
  point P69 (168.0627, -382.4326)
  point P70 (159.8533, -380.1194)
  point P71 (157.1412, -379.7445)
  point P72 (152.3683, -379.7445)
  point P73 (124.7217, -371.725)
  point P74 (119.144, -370.0249)
  point P75 (107.301, -370.0249)
  point P76 (107.301, -355.0308)
  point P77 (132.7318, -355.0308)
  point P78 (155.7993, -364.3664)
  point P79 (157.7165, -364.712)
  point P80 (159.622, -365.0542)
  point P81 (183.8098, -371.8697)
  point P82 (317.0855, -240.6733)
  point P83 (317.0855, -302.1733)
  point P84 (177.0855, -302.1733)
  point P85 (177.0855, -241.5007)
  point P86 (177.0855, -222.846)
  point P87 (177.0855, -162.1733)
  point P88 (317.0855, -162.1733)
  point P89 (317.0855, -223.6733)
  point P90 (-281.1451, -306.6219)
  point P91 (-266.151, -306.6219)
  point P92 (-266.151, -318.4649)
  point P93 (-264.4509, -324.0426)
  point P94 (-256.4313, -351.6892)
  point P95 (-256.4313, -356.4621)
  point P96 (-256.0565, -359.1742)
  point P97 (-253.7433, -367.3836)
  point P98 (-201.7433, -367.3836)
  point P99 (-201.7433, -375.3836)
  point P100 (-251.4891, -375.3836)
  point P101 (-249.3062, -383.1307)
  point P102 (-248.9313, -385.8428)
  point P103 (-248.9313, -469.8128)
  point P104 (-263.9313, -469.8128)
  point P105 (-263.9313, -385.8428)
  point P106 (-264.3062, -383.1307)
  point P107 (-271.1217, -358.943)
  point P108 (-271.4639, -357.0374)
  point P109 (-271.8095, -355.1202)
  point P110 (-281.1451, -332.0528)
  point P111 (-15, -432.3274)
  point P112 (-15, -493)
  point P113 (-128.3631, -493)
  point P114 (-128.3631, -478)
  point P115 (-30, -478)
  point P116 (-30, -438.8745)
  point P117 (-30, -407.1255)
  point P118 (-30, -368)
  point P119 (-128.3631, -368)
  point P120 (-128.3631, -353)
  point P121 (-15, -353)
  point P122 (-15, -413.6726)
  point P123 (-316.6354, -119.471)
  point P124 (-316.6354, -58.7984)
  point P125 (-176.6354, -58.7984)
  point P126 (-176.6354, -198.7984)
  point P127 (-316.6354, -198.7984)
  point P128 (-316.6354, -138.1258)
  point P129 (-153.8282, -119.471)
  point P130 (-153.8282, -58.7984)
  point P131 (-13.8282, -58.7984)
  point P132 (-13.8282, -198.7984)
  point P133 (-153.8282, -198.7984)
  point P134 (-153.8282, -138.1258)
  point P135 (-302.237, -287.8165)
  point P136 (-302.237, -332.942)
  point P137 (-317.237, -332.942)
  point P138 (-317.237, -281.2693)
  point P139 (-317.237, -262.6146)
  point P140 (-317.237, -210.942)
  point P141 (-302.237, -210.942)
  point P142 (-302.237, -256.0675)
  point P143 (-290.1037, -264.442)
  point P144 (-167.237, -264.442)
  point P145 (-167.237, -279.442)
  point P146 (-290.1037, -279.442)
  point P147 (-145.4587, -416.4723)
  point P148 (-61.4887, -416.4723)
  point P149 (-61.4887, -423.9723)
  point P150 (-61.4887, -431.4723)
  point P151 (-145.4587, -431.4723)
  point P152 (-148.1709, -431.0975)
  point P153 (-155.9179, -428.9146)
  point P154 (-155.9179, -478.6604)
  point P155 (-163.9179, -478.6604)
  point P156 (-163.9179, -426.6604)
  point P157 (-172.1273, -424.3472)
  point P158 (-174.8394, -423.9723)
  point P159 (-179.6123, -423.9723)
  point P160 (-207.2589, -415.9528)
  point P161 (-212.8366, -414.2527)
  point P162 (-224.6796, -414.2527)
  point P163 (-224.6796, -399.2586)
  point P164 (-199.2488, -399.2586)
  point P165 (-176.1813, -408.5942)
  point P166 (-174.2641, -408.9398)
  point P167 (-172.3586, -409.282)
  point P168 (-148.1709, -416.0975)
  point P169 (-14.8951, -284.9011)
  point P170 (-14.8951, -346.4011)
  point P171 (-154.8951, -346.4011)
  point P172 (-154.8951, -285.7285)
  point P173 (-154.8951, -267.0738)
  point P174 (-154.8951, -206.4011)
  point P175 (-14.8951, -206.4011)
  point P176 (-14.8951, -267.9011)
  dimension "d14" = 700
  dimension "d15" = 500
  dimension "d16" = 60
  dimension "d18" = 150
extrude "Extrusión3" add sketch "Boceto3" along normal blind 9 contours L0 L1 L2 L3
sketch "Boceto4" plane through (0, 0, 14) normal (0, 0, 1) x (1, 0, 0)
  circle A0 centre (-608.4081, -103.7246) radius 2.5 projected
  circle A1 centre (-608.4081, -103.7246) radius 2.5
  circle A2 centre (-482.4081, -103.7246) radius 2.5 projected
  circle A3 centre (-482.4081, -103.7246) radius 2.5
  circle A4 centre (-608.4081, -229.7246) radius 2.5 projected
  circle A5 centre (-608.4081, -229.7246) radius 2.5
  circle A6 centre (-482.4081, -229.7246) radius 2.5
  point P0 (0, 0)
  dimension "d21" = 5
extrude "Extrusión4" add sketch "Boceto4" along normal blind 25
properties part number "Base"
